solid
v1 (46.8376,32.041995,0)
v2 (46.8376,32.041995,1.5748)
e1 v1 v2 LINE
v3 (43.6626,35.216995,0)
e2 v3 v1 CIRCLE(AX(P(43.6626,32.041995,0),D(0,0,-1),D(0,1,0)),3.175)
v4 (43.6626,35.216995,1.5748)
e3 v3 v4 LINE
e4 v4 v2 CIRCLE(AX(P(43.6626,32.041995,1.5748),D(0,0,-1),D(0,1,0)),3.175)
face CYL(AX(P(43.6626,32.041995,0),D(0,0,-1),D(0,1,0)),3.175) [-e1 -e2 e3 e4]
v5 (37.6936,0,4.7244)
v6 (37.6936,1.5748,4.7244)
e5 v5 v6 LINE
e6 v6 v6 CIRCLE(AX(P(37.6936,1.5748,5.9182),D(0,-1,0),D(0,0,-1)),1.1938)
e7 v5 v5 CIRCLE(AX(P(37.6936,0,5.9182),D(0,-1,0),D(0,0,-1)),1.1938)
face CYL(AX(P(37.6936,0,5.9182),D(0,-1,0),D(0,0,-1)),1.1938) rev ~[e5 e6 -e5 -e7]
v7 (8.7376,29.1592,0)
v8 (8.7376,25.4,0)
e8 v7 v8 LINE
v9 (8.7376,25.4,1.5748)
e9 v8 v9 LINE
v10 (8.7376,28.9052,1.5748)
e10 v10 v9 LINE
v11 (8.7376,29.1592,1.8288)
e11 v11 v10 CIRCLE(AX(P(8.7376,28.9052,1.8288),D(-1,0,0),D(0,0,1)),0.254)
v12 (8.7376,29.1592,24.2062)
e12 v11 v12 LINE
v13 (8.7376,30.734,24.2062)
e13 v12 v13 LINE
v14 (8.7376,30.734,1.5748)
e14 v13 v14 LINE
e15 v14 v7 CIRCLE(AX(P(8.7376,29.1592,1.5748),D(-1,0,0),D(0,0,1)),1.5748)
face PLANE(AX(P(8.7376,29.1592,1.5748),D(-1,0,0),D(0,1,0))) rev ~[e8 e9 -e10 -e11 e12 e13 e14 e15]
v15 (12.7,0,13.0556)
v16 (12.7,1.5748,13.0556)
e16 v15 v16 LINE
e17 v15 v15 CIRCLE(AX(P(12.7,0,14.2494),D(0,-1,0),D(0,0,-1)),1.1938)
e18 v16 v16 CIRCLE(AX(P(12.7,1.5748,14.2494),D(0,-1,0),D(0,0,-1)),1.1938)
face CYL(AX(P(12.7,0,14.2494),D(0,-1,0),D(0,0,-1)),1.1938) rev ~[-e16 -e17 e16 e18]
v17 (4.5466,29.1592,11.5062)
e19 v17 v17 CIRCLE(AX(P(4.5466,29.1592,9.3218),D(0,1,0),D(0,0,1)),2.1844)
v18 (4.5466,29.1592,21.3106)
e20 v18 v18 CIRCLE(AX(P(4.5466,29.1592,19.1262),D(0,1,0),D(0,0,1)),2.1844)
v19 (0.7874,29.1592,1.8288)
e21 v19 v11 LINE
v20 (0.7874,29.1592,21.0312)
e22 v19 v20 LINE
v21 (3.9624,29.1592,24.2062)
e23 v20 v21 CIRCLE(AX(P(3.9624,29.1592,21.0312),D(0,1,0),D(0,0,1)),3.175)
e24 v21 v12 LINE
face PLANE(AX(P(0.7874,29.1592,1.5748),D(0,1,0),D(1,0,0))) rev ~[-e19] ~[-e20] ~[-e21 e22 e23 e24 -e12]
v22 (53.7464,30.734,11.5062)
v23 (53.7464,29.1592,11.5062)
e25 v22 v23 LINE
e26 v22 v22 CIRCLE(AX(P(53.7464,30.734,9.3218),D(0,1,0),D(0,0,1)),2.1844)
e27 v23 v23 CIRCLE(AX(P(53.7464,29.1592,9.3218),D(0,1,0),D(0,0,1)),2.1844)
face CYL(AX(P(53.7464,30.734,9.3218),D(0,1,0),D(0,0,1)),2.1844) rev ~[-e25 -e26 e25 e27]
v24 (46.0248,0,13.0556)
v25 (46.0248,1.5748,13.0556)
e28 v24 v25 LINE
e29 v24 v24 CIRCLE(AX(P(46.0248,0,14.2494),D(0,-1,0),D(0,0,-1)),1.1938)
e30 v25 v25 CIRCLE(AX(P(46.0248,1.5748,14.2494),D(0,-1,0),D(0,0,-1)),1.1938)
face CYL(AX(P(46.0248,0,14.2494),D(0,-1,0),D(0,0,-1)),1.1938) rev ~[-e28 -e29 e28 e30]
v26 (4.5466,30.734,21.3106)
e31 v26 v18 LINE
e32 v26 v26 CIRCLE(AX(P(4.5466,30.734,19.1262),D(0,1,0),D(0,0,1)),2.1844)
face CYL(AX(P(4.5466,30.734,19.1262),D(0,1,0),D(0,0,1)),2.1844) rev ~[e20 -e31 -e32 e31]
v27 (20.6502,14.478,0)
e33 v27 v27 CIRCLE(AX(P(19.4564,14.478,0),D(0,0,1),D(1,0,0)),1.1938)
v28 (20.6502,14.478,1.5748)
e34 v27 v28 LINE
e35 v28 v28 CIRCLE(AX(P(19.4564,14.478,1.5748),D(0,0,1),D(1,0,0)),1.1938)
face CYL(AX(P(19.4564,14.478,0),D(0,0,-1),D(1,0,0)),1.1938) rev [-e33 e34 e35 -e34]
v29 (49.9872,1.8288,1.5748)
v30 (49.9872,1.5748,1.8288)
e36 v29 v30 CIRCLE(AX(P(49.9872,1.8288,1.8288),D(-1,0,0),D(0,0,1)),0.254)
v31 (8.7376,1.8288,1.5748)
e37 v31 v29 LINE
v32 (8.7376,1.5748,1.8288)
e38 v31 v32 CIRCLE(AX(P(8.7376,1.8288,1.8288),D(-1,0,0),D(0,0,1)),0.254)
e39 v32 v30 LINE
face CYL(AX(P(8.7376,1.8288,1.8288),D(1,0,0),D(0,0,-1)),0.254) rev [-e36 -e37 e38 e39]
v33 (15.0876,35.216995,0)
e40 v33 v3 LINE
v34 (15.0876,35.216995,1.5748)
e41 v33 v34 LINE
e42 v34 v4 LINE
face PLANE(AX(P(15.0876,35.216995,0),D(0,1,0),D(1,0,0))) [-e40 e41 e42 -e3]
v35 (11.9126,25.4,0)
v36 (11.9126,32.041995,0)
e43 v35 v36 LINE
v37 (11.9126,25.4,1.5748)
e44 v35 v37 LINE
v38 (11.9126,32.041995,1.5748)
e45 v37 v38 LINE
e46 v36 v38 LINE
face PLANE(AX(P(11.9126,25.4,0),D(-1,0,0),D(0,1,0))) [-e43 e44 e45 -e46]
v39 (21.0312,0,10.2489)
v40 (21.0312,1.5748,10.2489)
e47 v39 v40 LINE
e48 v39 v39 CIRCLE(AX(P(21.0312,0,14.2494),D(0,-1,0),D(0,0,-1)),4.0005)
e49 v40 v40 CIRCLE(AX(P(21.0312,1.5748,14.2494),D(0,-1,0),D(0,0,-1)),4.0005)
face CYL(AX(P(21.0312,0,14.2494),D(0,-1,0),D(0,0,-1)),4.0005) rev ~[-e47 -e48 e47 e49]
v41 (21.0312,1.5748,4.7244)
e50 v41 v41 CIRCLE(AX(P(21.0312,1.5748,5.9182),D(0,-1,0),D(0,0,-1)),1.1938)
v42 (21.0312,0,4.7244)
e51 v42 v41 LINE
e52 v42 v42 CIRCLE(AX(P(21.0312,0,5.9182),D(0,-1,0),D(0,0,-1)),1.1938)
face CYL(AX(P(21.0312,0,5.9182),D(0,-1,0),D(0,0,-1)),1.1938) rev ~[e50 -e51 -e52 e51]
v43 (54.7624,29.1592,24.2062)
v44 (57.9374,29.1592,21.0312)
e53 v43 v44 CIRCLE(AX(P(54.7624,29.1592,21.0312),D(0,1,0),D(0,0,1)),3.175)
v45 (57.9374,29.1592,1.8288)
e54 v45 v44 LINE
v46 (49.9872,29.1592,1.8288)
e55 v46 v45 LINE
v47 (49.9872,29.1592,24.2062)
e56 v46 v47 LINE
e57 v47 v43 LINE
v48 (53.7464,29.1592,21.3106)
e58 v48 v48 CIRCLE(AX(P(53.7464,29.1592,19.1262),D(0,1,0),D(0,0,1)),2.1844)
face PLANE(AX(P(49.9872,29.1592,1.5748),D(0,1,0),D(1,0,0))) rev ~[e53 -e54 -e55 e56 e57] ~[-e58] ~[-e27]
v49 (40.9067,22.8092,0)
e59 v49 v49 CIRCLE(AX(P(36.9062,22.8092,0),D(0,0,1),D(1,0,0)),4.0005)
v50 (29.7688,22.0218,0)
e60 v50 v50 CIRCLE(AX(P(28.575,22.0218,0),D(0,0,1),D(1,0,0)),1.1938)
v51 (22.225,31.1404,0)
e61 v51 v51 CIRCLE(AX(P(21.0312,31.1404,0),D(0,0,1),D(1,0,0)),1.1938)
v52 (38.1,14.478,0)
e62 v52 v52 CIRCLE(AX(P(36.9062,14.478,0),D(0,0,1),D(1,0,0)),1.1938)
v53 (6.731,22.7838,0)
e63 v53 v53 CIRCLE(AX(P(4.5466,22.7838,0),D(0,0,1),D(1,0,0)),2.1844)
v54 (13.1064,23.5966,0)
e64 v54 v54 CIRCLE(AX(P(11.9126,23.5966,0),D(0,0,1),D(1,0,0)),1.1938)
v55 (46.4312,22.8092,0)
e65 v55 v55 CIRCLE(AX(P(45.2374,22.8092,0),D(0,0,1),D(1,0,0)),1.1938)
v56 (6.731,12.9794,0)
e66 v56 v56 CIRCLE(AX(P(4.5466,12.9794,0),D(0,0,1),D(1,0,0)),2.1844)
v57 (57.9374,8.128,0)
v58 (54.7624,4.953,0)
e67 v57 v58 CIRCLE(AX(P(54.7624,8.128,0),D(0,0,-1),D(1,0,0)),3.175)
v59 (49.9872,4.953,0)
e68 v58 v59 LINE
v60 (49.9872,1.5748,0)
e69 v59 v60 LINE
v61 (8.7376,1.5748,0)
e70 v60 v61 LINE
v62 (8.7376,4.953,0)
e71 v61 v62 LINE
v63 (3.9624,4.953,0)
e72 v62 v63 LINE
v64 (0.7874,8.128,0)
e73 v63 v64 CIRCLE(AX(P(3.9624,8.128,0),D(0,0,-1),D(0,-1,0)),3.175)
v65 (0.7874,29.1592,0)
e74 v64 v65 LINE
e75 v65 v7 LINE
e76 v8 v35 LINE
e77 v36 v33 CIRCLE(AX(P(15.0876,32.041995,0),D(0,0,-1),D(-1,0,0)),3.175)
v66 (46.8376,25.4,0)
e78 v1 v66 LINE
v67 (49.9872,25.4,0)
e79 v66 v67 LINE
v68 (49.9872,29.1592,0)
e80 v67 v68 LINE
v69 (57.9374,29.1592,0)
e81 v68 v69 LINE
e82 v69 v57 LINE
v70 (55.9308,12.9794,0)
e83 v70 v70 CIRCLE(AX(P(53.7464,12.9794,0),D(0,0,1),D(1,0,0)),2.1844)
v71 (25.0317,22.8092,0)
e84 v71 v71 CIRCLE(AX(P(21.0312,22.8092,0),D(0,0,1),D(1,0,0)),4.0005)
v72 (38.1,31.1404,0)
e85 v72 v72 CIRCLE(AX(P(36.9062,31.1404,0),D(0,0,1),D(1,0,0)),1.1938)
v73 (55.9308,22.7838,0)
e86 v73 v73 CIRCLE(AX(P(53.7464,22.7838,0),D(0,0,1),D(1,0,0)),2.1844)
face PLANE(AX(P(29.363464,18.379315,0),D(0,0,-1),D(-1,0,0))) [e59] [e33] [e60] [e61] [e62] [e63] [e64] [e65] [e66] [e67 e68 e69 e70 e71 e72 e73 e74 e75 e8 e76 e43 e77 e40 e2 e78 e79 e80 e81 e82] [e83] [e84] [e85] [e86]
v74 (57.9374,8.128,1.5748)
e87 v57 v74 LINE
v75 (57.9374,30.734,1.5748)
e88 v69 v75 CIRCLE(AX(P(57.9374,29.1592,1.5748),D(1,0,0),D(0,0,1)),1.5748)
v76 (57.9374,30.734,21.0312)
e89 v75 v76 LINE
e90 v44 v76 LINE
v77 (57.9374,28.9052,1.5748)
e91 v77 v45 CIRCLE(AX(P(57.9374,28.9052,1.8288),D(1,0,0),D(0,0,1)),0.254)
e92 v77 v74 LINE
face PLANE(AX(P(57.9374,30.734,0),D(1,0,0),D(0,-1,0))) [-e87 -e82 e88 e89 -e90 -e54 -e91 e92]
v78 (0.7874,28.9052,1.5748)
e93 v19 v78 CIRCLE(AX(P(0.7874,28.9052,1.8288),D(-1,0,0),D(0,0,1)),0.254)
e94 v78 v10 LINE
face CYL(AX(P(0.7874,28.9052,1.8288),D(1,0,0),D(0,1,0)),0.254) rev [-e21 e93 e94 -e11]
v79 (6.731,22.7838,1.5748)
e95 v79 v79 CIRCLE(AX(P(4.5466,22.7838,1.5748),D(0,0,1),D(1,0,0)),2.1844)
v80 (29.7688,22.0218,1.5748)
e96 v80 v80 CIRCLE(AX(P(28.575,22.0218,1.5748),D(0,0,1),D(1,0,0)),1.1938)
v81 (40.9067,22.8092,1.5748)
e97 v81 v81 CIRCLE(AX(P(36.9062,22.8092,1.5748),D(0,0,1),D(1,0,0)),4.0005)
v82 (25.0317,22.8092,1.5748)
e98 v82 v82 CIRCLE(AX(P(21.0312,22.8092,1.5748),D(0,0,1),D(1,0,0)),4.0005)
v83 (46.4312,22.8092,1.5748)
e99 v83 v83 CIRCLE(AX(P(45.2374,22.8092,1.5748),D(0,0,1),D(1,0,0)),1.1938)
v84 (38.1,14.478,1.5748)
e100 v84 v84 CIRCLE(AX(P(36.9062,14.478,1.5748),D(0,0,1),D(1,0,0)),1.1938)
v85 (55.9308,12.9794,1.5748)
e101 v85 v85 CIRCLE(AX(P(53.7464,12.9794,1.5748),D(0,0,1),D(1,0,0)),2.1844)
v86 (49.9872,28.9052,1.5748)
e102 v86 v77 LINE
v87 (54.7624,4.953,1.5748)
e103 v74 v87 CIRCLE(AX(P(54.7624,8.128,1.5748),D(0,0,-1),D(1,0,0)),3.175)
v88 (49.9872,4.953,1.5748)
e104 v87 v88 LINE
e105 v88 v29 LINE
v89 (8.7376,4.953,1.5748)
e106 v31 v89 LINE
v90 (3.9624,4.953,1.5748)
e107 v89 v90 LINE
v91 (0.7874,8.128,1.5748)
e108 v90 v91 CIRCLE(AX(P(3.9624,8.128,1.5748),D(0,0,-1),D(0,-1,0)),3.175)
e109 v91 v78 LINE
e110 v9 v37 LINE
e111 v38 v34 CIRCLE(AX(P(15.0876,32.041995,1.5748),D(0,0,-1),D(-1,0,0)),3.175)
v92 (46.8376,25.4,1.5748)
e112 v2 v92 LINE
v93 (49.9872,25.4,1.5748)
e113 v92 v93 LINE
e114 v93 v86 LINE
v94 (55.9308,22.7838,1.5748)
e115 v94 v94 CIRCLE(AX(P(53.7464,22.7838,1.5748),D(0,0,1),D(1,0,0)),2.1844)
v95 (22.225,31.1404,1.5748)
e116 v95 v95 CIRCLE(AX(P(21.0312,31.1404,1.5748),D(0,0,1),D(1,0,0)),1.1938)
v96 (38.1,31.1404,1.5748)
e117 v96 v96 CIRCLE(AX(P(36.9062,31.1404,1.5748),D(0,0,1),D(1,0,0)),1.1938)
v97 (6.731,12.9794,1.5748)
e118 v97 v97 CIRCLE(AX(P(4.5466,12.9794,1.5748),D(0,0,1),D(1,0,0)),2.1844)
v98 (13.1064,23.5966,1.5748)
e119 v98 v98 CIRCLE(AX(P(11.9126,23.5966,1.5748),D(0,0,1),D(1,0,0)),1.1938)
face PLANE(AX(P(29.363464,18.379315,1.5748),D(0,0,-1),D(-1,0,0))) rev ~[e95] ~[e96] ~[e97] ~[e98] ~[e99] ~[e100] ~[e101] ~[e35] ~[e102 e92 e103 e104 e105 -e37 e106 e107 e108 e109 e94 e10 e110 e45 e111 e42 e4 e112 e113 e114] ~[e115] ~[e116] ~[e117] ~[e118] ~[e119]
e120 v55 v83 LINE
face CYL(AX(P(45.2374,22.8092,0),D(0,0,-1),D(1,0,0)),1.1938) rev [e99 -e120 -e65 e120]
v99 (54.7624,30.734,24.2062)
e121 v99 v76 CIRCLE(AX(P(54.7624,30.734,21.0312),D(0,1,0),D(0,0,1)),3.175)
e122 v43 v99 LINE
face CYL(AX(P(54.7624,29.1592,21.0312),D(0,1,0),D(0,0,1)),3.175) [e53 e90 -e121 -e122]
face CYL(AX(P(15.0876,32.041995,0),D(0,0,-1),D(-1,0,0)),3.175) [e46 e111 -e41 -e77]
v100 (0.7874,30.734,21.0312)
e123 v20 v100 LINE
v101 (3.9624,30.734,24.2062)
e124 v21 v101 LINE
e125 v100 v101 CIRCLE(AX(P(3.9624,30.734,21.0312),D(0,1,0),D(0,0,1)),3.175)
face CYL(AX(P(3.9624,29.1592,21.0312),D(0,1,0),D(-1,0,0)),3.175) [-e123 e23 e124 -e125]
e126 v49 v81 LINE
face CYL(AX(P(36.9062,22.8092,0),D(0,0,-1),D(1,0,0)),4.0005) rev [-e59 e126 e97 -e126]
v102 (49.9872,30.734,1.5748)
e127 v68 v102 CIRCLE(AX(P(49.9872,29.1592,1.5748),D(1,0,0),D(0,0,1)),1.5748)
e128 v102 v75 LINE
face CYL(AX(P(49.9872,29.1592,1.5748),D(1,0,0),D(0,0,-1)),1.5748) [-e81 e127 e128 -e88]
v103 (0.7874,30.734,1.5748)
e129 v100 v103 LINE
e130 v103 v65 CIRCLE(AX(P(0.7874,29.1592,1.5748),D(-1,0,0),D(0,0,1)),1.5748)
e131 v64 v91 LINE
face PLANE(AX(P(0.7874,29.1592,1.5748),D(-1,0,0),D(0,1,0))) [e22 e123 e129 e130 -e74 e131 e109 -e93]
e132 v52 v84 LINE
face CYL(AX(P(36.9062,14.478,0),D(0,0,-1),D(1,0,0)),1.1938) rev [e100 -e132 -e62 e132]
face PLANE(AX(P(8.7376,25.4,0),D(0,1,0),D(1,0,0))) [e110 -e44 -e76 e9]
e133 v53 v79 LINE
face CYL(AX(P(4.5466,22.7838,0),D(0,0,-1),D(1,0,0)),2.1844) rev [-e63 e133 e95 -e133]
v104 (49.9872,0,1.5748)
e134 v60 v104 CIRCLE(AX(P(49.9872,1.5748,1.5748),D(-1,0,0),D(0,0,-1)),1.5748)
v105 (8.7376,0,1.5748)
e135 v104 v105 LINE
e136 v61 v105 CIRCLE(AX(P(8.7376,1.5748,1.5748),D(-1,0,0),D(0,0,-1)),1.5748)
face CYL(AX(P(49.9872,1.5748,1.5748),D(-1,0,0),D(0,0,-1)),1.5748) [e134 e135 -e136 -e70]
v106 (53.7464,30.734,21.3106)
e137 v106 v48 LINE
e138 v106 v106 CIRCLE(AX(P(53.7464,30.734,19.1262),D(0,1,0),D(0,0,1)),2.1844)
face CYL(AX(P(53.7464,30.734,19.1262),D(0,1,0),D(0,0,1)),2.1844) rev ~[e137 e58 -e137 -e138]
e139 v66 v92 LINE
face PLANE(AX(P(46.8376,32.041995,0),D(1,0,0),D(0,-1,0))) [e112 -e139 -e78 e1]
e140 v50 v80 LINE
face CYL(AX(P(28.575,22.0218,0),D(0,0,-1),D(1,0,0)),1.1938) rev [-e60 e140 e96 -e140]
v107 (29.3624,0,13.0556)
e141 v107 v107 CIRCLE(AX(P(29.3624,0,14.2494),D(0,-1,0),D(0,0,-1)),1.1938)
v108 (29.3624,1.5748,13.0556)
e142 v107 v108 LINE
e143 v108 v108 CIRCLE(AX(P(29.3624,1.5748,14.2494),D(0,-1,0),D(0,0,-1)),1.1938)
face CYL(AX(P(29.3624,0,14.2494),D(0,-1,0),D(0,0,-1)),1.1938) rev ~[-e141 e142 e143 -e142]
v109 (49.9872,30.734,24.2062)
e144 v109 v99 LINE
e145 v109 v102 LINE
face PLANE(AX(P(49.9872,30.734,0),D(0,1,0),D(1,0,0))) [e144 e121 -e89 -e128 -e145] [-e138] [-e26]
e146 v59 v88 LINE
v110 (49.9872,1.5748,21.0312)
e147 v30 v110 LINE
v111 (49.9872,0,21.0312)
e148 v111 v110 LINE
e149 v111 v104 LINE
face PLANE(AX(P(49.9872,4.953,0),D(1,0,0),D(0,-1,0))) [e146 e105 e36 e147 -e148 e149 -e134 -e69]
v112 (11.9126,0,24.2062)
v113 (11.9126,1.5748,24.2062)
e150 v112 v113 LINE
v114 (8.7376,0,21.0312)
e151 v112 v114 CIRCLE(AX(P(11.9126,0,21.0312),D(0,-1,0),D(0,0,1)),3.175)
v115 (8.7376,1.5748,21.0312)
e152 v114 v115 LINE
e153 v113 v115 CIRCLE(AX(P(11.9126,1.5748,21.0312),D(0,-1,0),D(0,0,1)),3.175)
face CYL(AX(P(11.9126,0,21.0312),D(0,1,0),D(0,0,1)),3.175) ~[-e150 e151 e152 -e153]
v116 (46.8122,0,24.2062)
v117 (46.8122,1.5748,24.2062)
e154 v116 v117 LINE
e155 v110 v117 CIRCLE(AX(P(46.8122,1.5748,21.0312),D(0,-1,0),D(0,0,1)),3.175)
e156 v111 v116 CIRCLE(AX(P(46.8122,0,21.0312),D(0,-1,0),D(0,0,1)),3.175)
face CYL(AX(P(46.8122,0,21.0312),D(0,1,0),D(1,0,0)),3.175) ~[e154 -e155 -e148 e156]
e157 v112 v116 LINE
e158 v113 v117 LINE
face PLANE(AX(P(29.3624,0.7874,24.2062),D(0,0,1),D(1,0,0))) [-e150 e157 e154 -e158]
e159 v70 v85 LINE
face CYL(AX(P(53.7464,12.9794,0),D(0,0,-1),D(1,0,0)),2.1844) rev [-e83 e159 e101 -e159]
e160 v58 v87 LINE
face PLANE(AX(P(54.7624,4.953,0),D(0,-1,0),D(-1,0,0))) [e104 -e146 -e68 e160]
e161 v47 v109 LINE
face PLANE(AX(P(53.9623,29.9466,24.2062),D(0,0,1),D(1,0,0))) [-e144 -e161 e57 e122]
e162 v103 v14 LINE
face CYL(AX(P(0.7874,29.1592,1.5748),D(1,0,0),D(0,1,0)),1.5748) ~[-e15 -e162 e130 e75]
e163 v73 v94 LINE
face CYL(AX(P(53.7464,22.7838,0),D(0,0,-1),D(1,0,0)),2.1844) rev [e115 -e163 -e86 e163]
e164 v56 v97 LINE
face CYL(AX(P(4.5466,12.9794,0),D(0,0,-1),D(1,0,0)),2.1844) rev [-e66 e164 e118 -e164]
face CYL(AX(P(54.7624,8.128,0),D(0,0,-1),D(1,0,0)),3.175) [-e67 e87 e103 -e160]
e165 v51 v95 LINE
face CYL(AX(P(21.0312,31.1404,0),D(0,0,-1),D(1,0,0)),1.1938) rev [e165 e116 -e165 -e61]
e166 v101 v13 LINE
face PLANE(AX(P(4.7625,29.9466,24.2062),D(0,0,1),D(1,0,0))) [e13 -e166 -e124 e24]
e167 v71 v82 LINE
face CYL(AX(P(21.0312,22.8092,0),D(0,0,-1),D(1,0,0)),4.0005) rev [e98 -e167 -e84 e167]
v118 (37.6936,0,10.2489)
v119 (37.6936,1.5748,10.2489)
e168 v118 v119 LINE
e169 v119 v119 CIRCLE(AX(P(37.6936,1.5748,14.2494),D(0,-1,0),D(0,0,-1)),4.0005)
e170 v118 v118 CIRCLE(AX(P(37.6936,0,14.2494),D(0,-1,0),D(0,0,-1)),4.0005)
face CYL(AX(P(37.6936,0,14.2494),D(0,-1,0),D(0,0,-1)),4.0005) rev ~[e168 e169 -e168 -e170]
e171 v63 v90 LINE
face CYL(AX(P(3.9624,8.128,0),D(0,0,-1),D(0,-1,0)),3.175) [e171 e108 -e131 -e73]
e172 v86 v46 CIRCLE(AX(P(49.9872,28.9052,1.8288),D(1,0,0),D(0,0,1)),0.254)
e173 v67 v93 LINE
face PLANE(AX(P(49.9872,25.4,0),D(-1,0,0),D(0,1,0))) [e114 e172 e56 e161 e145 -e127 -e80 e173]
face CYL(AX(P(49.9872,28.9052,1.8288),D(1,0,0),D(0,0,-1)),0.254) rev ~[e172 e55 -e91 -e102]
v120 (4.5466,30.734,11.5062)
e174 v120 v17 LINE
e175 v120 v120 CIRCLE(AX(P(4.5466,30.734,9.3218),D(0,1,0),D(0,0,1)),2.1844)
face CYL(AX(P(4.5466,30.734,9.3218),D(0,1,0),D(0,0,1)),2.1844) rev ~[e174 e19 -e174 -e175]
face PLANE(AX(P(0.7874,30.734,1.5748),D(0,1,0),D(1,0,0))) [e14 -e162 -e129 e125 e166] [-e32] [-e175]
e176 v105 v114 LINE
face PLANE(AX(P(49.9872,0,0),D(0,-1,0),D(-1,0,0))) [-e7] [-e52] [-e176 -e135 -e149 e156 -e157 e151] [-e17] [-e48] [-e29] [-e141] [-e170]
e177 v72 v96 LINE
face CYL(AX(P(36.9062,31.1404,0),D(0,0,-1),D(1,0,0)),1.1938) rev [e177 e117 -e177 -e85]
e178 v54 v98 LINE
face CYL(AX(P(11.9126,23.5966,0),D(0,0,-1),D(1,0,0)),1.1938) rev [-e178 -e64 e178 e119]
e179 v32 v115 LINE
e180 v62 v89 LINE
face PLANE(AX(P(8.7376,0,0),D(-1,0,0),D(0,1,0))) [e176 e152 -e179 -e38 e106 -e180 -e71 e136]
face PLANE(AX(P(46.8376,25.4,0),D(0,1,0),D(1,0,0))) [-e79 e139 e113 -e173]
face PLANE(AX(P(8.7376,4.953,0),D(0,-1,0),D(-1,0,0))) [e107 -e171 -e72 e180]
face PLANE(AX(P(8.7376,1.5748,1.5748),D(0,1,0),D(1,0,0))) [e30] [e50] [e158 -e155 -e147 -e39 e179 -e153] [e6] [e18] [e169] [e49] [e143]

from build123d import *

# Parameters (mm, degrees)
SKETCH1_R      = 4.0005
SKETCH1_R_2    = 1.1938
SKETCH1_R_3    = 2.1844
EXTRUDE2_DEPTH = 1.5748
SKETCH3_W      = 7.9502
SKETCH3_H      = 1.5748
SKETCH3_W_2    = 41.2496
EXTRUDE3_DEPTH = 22.6314
FILLET1_R      = 3.175
FILLET2_R      = 1.5748
FILLET3_R      = 0.254
SKETCH4_R      = 4.0005
SKETCH4_R_2    = 1.1938
EXTRUDE4_DEPTH = 1.5748
SKETCH5_R      = 2.1844
EXTRUDE5_DEPTH = 1.5748


with BuildPart() as part:
    # Sketch1 → Extrude2 (new body)
    with BuildSketch(Plane.XY):
        with BuildLine():
            Line((11.9126, 30.734), (11.9126, 32.041994716))
            ThreePointArc((11.9126, 32.041994716), (12.84253597, 34.287058746), (15.0876, 35.216994716))
            Line((15.0876, 35.216994716), (43.6626, 35.216994716))
            ThreePointArc((43.6626, 35.216994716), (45.90766403, 34.287058746), (46.8376, 32.041994716))
            Line((46.8376, 32.041994716), (46.8376, 30.734))
            Line((46.8376, 30.734), (46.8376, 25.4))
            Line((46.8376, 25.4), (49.9872, 25.4))
            Line((49.9872, 25.4), (49.9872, 30.734))
            Line((49.9872, 30.734), (57.9374, 30.734))
            Line((57.9374, 30.734), (57.9374, 8.128))
            ThreePointArc((57.9374, 8.128), (57.00746403, 5.88293597), (54.7624, 4.953))
            Line((54.7624, 4.953), (49.9872, 4.953))
            Line((49.9872, 4.953), (49.9872, 0))
            Line((49.9872, 0), (8.7376, 0))
            Line((8.7376, 0), (8.7376, 4.953))
            Line((8.7376, 4.953), (3.9624, 4.953))
            ThreePointArc((3.9624, 4.953), (1.71733597, 5.88293597), (0.7874, 8.128))
            Line((0.7874, 8.128), (0.7874, 30.734))
            Line((0.7874, 30.734), (8.7376, 30.734))
            Line((8.7376, 30.734), (8.7376, 25.4))
            Line((8.7376, 25.4), (11.9126, 25.4))
            Line((11.9126, 25.4), (11.9126, 30.734))
        make_face()
        with Locations((21.0312, 22.8092)):
            Circle(SKETCH1_R, mode=Mode.SUBTRACT)
        with Locations((21.0312, 31.1404)):
            Circle(SKETCH1_R_2, mode=Mode.SUBTRACT)
        with Locations((28.575, 22.0218)):
            Circle(SKETCH1_R_2, mode=Mode.SUBTRACT)
        with Locations((19.4564, 14.478)):
            Circle(SKETCH1_R_2, mode=Mode.SUBTRACT)
        with Locations((11.9126, 23.5966)):
            Circle(SKETCH1_R_2, mode=Mode.SUBTRACT)
        with Locations((36.9062, 31.1404)):
            Circle(SKETCH1_R_2, mode=Mode.SUBTRACT)
        with Locations((45.2374, 22.8092)):
            Circle(SKETCH1_R_2, mode=Mode.SUBTRACT)
        with Locations((36.9062, 22.8092)):
            Circle(SKETCH1_R, mode=Mode.SUBTRACT)
        with Locations((36.9062, 14.478)):
            Circle(SKETCH1_R_2, mode=Mode.SUBTRACT)
        with Locations((4.5466, 22.7838)):
            Circle(SKETCH1_R_3, mode=Mode.SUBTRACT)
        with Locations((4.5466, 12.9794)):
            Circle(SKETCH1_R_3, mode=Mode.SUBTRACT)
        with Locations((53.7464, 22.7838)):
            Circle(SKETCH1_R_3, mode=Mode.SUBTRACT)
        with Locations((53.7464, 12.9794)):
            Circle(SKETCH1_R_3, mode=Mode.SUBTRACT)
    extrude(amount=EXTRUDE2_DEPTH)

    # Sketch3 → Extrude3 (add)
    with BuildSketch(Plane.XY.offset(1.5748)):
        with Locations((4.7625, 29.9466)):
            Rectangle(SKETCH3_W, SKETCH3_H)
        with Locations((29.3624, 0.7874)):
            Rectangle(SKETCH3_W_2, SKETCH3_H)
        with Locations((53.9623, 29.9466)):
            Rectangle(SKETCH3_W, SKETCH3_H)
    extrude(amount=EXTRUDE3_DEPTH)

    # Fillet1
    fillet1_edges = [part.edges().sort_by_distance(p)[0] for p in [
        (0.7874, 29.9466, 24.2062),
        (8.7376, 0.7874, 24.2062),
        (49.9872, 0.7874, 24.2062),
        (57.9374, 29.9466, 24.2062),
    ]]
    fillet(fillet1_edges, radius=FILLET1_R)

    # Fillet2
    fillet2_edges = [part.edges().sort_by_distance(p)[0] for p in [
        (4.7625, 30.734, 0),
        (53.9623, 30.734, 0),
        (29.3624, 0, 0),
    ]]
    fillet(fillet2_edges, radius=FILLET2_R)

    # Fillet3
    fillet3_edges = [part.edges().sort_by_distance(p)[0] for p in [
        (4.7625, 29.1592, 1.5748),
        (29.3624, 1.5748, 1.5748),
        (53.9623, 29.1592, 1.5748),
    ]]
    fillet(fillet3_edges, radius=FILLET3_R)

    # Sketch4 → Extrude4 (cut)
    with BuildSketch(Plane.XZ):
        with Locations(Location((21.0312, 14.2494, 0), (0, 0, 270))):  # turned: the seam where the file's is
            Circle(SKETCH4_R)
        with Locations(Location((12.7, 14.2494, 0), (0, 0, 270))):  # turned: the seam where the file's is
            Circle(SKETCH4_R_2)
        with Locations(Location((21.0312, 5.9182, 0), (0, 0, 270))):  # turned: the seam where the file's is
            Circle(SKETCH4_R_2)
        with Locations(Location((29.3624, 14.2494, 0), (0, 0, 270))):  # turned: the seam where the file's is
            Circle(SKETCH4_R_2)
        with Locations(Location((46.0248, 14.2494, 0), (0, 0, 270))):  # turned: the seam where the file's is
            Circle(SKETCH4_R_2)
        with Locations(Location((37.6936, 14.2494, 0), (0, 0, 270))):  # turned: the seam where the file's is
            Circle(SKETCH4_R)
        with Locations(Location((37.6936, 5.9182, 0), (0, 0, 270))):  # turned: the seam where the file's is
            Circle(SKETCH4_R_2)
    extrude(amount=-EXTRUDE4_DEPTH, mode=Mode.SUBTRACT)

    # Sketch5 → Extrude5 (cut)
    with BuildSketch(Plane(origin=(0, 30.734, 0), x_dir=(1, 0, 0), z_dir=(0, 1, 0))):
        with Locations(Location((4.5466, -9.3218, 0), (0, 0, 270))):  # turned: the seam where the file's is
            Circle(SKETCH5_R)
        with Locations(Location((4.5466, -19.1262, 0), (0, 0, 270))):  # turned: the seam where the file's is
            Circle(SKETCH5_R)
        with Locations(Location((53.7464, -19.1262, 0), (0, 0, 270))):  # turned: the seam where the file's is
            Circle(SKETCH5_R)
        with Locations(Location((53.7464, -9.3218, 0), (0, 0, 270))):  # turned: the seam where the file's is
            Circle(SKETCH5_R)
    extrude(amount=-EXTRUDE5_DEPTH, mode=Mode.SUBTRACT)


solid = part.part
